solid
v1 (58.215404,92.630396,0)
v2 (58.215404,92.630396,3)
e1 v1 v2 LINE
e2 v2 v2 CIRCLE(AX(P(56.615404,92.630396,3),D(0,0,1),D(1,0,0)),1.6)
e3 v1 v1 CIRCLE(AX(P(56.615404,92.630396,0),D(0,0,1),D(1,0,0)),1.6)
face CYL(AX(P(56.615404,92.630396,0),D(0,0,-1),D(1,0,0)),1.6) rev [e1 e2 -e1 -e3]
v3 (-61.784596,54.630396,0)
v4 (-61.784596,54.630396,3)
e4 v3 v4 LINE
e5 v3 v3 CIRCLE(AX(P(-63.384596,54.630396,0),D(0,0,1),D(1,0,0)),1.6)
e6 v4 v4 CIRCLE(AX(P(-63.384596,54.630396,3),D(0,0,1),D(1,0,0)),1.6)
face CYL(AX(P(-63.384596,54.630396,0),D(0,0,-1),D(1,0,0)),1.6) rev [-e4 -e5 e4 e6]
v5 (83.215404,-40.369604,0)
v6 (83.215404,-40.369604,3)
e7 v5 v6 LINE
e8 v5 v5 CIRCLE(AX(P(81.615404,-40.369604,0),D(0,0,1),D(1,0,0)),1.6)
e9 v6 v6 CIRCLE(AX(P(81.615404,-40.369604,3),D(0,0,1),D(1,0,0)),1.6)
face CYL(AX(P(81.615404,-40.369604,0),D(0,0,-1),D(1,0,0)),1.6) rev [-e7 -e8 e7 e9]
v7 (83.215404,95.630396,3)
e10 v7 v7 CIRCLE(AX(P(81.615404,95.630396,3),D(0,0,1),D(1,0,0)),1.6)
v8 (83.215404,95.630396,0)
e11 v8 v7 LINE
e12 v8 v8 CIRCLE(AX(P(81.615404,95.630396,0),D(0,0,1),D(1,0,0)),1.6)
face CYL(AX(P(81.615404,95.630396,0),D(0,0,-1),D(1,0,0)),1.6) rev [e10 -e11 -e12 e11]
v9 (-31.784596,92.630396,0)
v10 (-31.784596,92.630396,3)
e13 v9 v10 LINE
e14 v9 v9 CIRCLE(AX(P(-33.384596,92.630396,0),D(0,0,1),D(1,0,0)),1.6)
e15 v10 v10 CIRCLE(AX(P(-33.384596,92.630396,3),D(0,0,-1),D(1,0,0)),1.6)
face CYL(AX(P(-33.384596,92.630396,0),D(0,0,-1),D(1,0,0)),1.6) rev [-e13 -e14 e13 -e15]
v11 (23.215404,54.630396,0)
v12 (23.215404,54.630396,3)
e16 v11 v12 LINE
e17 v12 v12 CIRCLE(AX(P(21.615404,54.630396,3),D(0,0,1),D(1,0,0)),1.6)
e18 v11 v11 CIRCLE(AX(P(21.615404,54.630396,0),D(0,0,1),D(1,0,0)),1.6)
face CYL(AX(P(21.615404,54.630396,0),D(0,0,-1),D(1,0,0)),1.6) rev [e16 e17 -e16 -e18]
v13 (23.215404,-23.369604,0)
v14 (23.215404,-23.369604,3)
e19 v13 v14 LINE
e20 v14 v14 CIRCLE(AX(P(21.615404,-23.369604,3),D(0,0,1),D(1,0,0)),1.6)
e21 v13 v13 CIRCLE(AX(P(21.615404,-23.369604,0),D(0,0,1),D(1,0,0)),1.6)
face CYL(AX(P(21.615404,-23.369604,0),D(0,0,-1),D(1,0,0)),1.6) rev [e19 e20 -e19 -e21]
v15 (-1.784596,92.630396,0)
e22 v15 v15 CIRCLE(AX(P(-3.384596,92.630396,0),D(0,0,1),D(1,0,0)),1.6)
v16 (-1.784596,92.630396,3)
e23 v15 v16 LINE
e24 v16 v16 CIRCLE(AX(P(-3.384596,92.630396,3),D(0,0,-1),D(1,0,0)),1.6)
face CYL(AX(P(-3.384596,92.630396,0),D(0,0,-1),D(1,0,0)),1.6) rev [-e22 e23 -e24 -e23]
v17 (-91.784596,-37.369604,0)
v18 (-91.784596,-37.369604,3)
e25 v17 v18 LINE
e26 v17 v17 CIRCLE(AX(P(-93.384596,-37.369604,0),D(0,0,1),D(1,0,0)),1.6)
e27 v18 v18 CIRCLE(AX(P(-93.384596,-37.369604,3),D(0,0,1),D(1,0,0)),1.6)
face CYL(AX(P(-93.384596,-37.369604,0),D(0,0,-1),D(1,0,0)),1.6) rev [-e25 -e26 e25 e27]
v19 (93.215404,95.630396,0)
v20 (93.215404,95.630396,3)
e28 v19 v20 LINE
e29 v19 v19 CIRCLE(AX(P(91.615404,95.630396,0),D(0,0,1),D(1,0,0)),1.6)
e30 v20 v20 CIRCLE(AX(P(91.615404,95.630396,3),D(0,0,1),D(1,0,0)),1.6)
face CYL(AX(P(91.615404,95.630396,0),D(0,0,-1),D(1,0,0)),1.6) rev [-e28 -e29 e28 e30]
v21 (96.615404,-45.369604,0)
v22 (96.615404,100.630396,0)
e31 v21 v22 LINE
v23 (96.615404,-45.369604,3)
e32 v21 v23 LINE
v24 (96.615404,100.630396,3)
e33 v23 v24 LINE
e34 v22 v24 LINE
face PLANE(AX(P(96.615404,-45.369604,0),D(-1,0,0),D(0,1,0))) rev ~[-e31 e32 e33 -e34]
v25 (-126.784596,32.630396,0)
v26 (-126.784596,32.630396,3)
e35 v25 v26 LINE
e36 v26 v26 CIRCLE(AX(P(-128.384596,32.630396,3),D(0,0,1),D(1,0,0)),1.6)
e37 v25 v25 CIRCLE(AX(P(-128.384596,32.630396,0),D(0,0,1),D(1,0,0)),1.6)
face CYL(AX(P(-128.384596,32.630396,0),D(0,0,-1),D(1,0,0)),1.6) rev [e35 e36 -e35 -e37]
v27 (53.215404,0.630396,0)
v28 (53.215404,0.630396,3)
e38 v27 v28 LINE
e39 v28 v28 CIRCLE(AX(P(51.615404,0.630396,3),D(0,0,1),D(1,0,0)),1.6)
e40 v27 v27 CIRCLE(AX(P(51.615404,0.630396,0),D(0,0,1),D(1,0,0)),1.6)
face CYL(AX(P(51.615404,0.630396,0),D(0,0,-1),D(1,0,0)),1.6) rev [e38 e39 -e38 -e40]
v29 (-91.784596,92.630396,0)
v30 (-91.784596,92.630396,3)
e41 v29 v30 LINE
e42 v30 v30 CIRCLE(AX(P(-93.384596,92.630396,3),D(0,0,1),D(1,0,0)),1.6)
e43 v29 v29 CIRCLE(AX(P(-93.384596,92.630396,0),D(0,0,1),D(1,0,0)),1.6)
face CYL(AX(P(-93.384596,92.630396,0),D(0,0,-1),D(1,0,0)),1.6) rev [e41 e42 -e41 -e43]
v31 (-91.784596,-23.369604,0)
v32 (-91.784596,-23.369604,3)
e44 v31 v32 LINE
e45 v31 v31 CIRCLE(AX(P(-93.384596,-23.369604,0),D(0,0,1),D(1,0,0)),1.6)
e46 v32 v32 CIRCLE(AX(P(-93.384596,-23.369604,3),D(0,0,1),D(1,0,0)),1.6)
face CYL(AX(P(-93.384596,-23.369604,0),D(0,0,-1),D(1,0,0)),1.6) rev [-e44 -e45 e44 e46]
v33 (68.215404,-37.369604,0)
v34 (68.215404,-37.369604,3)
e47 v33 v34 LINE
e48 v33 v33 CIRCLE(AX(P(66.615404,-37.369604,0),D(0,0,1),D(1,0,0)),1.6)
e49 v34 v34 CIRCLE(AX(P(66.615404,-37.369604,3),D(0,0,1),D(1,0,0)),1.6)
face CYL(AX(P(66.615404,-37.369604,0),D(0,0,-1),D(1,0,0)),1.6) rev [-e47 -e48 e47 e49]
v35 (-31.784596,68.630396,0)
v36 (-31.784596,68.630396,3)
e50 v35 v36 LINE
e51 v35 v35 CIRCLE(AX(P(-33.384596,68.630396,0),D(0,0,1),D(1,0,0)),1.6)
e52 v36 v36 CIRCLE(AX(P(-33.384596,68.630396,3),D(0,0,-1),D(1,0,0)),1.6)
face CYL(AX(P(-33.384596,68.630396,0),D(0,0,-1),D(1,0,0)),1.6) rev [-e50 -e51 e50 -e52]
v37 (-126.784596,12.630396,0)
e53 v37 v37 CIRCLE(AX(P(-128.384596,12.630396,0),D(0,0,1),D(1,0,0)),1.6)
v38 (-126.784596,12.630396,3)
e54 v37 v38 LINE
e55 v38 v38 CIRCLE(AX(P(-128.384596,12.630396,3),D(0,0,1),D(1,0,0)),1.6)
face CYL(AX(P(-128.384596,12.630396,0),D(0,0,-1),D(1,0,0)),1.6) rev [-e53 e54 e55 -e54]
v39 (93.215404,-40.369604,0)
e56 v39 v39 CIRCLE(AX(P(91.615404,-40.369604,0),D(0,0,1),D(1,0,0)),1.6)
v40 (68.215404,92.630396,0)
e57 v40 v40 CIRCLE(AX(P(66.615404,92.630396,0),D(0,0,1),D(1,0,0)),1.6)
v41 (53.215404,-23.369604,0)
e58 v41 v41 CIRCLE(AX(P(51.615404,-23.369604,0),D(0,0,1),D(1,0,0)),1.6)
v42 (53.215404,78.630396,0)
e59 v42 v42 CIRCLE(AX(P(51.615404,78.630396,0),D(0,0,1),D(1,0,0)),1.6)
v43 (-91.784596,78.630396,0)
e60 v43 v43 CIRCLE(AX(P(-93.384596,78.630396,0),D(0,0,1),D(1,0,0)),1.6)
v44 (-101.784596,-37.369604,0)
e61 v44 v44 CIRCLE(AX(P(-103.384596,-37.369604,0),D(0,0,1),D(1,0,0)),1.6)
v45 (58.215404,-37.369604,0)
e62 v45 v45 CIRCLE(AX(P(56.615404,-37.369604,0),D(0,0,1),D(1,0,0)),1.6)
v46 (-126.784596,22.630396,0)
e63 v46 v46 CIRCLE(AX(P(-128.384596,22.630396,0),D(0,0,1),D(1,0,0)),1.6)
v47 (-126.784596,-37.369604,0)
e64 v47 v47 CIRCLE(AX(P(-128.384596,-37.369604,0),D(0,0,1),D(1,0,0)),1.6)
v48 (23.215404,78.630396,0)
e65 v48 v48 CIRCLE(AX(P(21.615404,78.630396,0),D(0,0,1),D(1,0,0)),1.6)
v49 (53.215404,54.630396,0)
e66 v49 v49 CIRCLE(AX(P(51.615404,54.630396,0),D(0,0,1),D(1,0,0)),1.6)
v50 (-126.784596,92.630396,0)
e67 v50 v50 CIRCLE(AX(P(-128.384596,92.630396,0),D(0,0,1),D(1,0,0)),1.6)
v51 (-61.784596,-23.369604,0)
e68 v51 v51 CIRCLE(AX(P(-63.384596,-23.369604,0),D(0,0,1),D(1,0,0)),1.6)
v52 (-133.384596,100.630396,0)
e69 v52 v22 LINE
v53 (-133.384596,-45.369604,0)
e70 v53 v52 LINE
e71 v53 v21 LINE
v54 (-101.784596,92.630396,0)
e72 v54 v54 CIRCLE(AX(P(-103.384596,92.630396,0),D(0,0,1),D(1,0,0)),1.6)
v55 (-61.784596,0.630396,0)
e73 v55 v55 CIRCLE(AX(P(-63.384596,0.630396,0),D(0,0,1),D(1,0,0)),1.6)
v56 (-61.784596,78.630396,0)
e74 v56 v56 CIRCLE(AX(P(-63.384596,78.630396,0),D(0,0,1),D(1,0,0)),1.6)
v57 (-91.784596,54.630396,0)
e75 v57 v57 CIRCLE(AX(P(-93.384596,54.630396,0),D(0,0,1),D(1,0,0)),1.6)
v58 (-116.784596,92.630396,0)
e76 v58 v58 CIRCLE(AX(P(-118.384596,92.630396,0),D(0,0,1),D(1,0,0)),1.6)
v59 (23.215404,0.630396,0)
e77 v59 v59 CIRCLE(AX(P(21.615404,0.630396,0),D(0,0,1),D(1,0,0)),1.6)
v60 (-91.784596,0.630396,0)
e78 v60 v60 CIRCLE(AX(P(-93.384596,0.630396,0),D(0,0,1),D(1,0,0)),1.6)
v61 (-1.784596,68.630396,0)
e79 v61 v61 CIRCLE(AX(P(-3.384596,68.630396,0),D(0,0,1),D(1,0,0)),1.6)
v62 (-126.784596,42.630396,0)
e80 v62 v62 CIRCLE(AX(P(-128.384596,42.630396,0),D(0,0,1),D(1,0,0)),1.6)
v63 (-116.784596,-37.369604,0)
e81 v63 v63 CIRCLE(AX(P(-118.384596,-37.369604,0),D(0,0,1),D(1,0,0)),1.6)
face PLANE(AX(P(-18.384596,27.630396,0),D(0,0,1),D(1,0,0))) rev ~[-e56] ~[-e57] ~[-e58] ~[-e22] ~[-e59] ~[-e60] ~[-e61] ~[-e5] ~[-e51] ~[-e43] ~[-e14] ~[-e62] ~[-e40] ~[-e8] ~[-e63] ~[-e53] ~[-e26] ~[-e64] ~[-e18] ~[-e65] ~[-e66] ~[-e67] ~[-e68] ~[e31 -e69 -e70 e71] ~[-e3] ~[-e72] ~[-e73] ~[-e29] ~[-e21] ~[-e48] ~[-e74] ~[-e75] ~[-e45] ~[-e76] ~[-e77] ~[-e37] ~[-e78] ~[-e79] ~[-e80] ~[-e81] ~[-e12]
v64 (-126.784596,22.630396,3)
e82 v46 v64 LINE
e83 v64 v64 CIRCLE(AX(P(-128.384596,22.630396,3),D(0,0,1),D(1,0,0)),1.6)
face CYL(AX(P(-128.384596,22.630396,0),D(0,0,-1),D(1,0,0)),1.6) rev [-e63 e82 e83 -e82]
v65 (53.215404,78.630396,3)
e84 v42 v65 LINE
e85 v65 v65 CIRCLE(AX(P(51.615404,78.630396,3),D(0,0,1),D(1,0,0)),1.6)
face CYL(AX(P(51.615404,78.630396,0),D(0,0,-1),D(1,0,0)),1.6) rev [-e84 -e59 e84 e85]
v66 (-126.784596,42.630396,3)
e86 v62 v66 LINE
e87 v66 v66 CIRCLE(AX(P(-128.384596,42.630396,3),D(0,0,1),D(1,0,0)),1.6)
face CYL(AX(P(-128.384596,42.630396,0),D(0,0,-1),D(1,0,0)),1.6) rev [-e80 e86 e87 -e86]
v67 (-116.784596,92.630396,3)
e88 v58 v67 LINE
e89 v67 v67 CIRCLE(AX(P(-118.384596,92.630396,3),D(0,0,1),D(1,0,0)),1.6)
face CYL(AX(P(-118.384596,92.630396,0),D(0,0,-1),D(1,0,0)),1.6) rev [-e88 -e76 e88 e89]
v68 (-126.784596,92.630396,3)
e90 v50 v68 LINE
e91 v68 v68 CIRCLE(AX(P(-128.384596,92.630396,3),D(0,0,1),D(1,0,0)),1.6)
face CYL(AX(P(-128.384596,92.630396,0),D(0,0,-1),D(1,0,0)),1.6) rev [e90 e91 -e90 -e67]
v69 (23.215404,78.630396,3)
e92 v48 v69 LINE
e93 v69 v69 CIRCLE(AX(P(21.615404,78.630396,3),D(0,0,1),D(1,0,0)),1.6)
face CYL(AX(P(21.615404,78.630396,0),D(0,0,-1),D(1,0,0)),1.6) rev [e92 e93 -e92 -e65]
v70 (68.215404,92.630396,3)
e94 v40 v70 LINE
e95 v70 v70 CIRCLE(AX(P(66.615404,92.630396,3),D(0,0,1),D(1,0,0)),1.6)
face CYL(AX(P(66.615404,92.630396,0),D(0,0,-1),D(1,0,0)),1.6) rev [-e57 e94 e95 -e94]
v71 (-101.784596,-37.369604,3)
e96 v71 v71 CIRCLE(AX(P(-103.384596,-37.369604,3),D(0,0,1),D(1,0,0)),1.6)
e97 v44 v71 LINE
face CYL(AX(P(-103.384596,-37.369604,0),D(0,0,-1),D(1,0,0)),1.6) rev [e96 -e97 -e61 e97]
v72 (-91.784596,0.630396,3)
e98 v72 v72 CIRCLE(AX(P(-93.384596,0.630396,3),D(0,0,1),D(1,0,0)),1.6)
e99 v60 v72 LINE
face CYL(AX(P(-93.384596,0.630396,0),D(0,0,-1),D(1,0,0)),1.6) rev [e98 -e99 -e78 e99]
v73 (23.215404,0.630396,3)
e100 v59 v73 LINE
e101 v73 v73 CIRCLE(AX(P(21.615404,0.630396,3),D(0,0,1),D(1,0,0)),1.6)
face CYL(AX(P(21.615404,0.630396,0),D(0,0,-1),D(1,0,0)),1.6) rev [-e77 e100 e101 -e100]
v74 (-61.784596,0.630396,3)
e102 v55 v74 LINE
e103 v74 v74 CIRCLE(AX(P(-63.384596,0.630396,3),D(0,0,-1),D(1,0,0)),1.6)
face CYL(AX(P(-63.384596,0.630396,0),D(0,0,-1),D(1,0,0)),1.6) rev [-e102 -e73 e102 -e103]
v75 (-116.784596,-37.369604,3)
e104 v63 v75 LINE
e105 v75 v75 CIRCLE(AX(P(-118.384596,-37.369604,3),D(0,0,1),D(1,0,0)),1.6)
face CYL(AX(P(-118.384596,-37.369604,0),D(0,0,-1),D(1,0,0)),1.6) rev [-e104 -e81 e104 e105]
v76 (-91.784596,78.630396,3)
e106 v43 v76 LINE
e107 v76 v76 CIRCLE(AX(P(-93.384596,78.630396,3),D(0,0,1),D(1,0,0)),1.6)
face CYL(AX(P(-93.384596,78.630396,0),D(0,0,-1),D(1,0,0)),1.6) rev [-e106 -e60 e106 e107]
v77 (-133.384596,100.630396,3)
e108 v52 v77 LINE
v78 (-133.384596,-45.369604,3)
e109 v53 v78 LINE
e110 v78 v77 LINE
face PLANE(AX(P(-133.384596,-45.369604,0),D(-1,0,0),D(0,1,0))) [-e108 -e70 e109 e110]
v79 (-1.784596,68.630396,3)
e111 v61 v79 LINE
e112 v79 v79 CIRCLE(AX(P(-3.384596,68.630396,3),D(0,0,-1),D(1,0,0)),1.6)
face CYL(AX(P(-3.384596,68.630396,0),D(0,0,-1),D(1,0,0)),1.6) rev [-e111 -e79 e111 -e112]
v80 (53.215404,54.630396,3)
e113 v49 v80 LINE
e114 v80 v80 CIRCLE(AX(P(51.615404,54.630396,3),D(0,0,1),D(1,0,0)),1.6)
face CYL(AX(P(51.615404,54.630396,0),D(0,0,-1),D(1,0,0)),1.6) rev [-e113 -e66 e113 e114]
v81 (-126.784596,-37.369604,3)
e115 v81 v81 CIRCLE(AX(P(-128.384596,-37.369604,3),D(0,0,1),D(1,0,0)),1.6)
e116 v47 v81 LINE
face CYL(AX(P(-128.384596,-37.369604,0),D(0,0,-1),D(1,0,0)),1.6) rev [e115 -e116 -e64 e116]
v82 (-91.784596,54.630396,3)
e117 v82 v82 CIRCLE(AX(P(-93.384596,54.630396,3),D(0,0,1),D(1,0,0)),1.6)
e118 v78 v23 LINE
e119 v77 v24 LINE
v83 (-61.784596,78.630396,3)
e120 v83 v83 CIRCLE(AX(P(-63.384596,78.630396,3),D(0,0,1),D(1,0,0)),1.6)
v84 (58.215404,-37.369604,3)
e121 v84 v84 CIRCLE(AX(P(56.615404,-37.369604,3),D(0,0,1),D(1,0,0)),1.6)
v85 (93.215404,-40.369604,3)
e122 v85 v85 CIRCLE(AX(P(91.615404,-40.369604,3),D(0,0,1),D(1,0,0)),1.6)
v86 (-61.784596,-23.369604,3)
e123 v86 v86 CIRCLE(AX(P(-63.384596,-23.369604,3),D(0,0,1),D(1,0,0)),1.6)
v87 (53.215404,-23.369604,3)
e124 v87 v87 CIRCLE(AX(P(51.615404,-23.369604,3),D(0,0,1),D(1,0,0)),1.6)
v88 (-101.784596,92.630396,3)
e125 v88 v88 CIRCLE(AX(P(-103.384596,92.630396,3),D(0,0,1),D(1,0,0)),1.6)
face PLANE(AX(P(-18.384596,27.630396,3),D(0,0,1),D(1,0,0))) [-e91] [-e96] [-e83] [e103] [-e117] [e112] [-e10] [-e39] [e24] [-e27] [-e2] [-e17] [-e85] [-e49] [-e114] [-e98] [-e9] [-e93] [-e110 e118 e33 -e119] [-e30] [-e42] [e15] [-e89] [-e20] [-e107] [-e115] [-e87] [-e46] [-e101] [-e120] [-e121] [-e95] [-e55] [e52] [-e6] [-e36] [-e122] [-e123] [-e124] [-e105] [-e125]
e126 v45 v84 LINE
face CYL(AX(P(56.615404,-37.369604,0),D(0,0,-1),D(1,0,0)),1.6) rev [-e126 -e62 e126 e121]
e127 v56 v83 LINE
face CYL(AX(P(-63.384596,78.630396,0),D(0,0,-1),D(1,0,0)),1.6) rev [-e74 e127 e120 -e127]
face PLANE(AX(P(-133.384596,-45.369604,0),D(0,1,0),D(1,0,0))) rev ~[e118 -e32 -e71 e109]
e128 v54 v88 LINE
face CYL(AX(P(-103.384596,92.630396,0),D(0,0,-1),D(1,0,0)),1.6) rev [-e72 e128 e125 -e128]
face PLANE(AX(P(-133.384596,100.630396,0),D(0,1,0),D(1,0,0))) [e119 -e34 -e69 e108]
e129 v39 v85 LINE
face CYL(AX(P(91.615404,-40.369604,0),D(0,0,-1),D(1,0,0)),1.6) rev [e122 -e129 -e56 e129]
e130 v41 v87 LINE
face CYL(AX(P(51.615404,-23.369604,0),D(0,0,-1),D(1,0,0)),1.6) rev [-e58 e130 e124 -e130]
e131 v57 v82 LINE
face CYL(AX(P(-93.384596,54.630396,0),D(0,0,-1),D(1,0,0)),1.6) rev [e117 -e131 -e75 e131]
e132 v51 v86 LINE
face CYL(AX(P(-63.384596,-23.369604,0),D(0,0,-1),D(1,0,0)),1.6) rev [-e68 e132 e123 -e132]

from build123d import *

# Parameters (mm, degrees)
SKETCH_1_W          = 230
SKETCH_1_H          = 146
SKETCH_1_R          = 1.6
EXTRUDE_1_DEPTH     = 3
SKETCH_3_R          = 1.6
EXTRUDE_2_DEPTH     = 3
SKETCH_5_R          = 1.6
CUT_EXTRUDE_1_DEPTH = 4
SKETCH_6_W          = 41.213526348
SKETCH_6_H          = 6.1
CUT_EXTRUDE_2_DEPTH = 4


with BuildPart() as part:
    # 草图1 → 凸台-拉伸1 (new body)
    with BuildSketch(Plane.XY):
        with Locations((-18.384596283, 27.630396061)):
            Rectangle(SKETCH_1_W, SKETCH_1_H)
        with Locations((51.615403717, 0.630396061)):
            Circle(SKETCH_1_R, mode=Mode.SUBTRACT)
        with Locations((51.615403717, -23.369603939)):
            Circle(SKETCH_1_R, mode=Mode.SUBTRACT)
        with Locations((21.615403717, -23.369603939)):
            Circle(SKETCH_1_R, mode=Mode.SUBTRACT)
        with Locations((21.615403717, 0.630396061)):
            Circle(SKETCH_1_R, mode=Mode.SUBTRACT)
        with Locations((51.615403717, 54.630396061)):
            Circle(SKETCH_1_R, mode=Mode.SUBTRACT)
        with Locations((51.615403717, 78.630396061)):
            Circle(SKETCH_1_R, mode=Mode.SUBTRACT)
        with Locations((21.615403717, 78.630396061)):
            Circle(SKETCH_1_R, mode=Mode.SUBTRACT)
        with Locations((21.615403717, 54.630396061)):
            Circle(SKETCH_1_R, mode=Mode.SUBTRACT)
        with Locations((-63.384596283, 0.630396061)):
            Circle(SKETCH_1_R, mode=Mode.SUBTRACT)
        with Locations((-63.384596283, -23.369603939)):
            Circle(SKETCH_1_R, mode=Mode.SUBTRACT)
        with Locations((-93.384596283, -23.369603939)):
            Circle(SKETCH_1_R, mode=Mode.SUBTRACT)
        with Locations((-93.384596283, 0.630396061)):
            Circle(SKETCH_1_R, mode=Mode.SUBTRACT)
        with Locations((-63.384596283, 54.630396061)):
            Circle(SKETCH_1_R, mode=Mode.SUBTRACT)
        with Locations((-63.384596283, 78.630396061)):
            Circle(SKETCH_1_R, mode=Mode.SUBTRACT)
        with Locations((-93.384596283, 78.630396061)):
            Circle(SKETCH_1_R, mode=Mode.SUBTRACT)
        with Locations((-93.384596283, 54.630396061)):
            Circle(SKETCH_1_R, mode=Mode.SUBTRACT)
        with Locations((-3.384596283, 92.630396061)):
            Circle(SKETCH_1_R, mode=Mode.SUBTRACT)
        with Locations((-3.384596283, 68.630396061)):
            Circle(SKETCH_1_R, mode=Mode.SUBTRACT)
        with Locations((-33.384596283, 68.630396061)):
            Circle(SKETCH_1_R, mode=Mode.SUBTRACT)
        with Locations((-33.384596283, 92.630396061)):
            Circle(SKETCH_1_R, mode=Mode.SUBTRACT)
        with Locations((-128.384596283, 22.630396061)):
            Circle(SKETCH_1_R, mode=Mode.SUBTRACT)
        with Locations((-128.384596283, 12.630396061)):
            Circle(SKETCH_1_R, mode=Mode.SUBTRACT)
        with Locations((-128.384596283, 42.630396061)):
            Circle(SKETCH_1_R, mode=Mode.SUBTRACT)
        with Locations((-128.384596283, 32.630396061)):
            Circle(SKETCH_1_R, mode=Mode.SUBTRACT)
        with Locations((91.615403717, -40.369603939)):
            Circle(SKETCH_1_R, mode=Mode.SUBTRACT)
        with Locations((81.615403717, -40.369603939)):
            Circle(SKETCH_1_R, mode=Mode.SUBTRACT)
        with Locations((66.615403717, -37.369603939)):
            Circle(SKETCH_1_R, mode=Mode.SUBTRACT)
        with Locations((56.615403717, -37.369603939)):
            Circle(SKETCH_1_R, mode=Mode.SUBTRACT)
        with Locations((91.615403717, 95.630396061)):
            Circle(SKETCH_1_R, mode=Mode.SUBTRACT)
        with Locations((81.615403717, 95.630396061)):
            Circle(SKETCH_1_R, mode=Mode.SUBTRACT)
        with Locations((56.615403717, 92.630396061)):
            Circle(SKETCH_1_R, mode=Mode.SUBTRACT)
        with Locations((66.615403717, 92.630396061)):
            Circle(SKETCH_1_R, mode=Mode.SUBTRACT)
        with Locations((-103.384596283, -37.369603939)):
            Circle(SKETCH_1_R, mode=Mode.SUBTRACT)
        with Locations((-93.384596283, -37.369603939)):
            Circle(SKETCH_1_R, mode=Mode.SUBTRACT)
        with Locations((-93.384596283, 92.630396061)):
            Circle(SKETCH_1_R, mode=Mode.SUBTRACT)
        with Locations((-103.384596283, 92.630396061)):
            Circle(SKETCH_1_R, mode=Mode.SUBTRACT)
        with Locations((-118.384596283, -37.369603939)):
            Circle(SKETCH_1_R, mode=Mode.SUBTRACT)
        with Locations((-128.384596283, -37.369603939)):
            Circle(SKETCH_1_R, mode=Mode.SUBTRACT)
        with Locations((-118.384596283, 92.630396061)):
            Circle(SKETCH_1_R, mode=Mode.SUBTRACT)
        with Locations((-128.384596283, 92.630396061)):
            Circle(SKETCH_1_R, mode=Mode.SUBTRACT)
    extrude(amount=EXTRUDE_1_DEPTH)

    # 草图3 → 凸台-拉伸2 (add)
    with BuildSketch(Plane.XY.offset(3)):
        Polygon((-92.171069935, -45.369603939), (-78.384596283, -45.369603939), (-22.171069935, -45.369603939), (22.828930065, -45.369603939), (36.615403717, -45.369603939), (96.615403717, -45.369603939), (96.615403717, 100.630396061), (22.828930065, 100.630396061), (-22.171069935, 100.630396061), (-92.171069935, 100.630396061), (-133.384596283, 100.630396061), (-133.384596283, -45.369603939), align=None)
        with Locations((-128.384596283, -37.369603939)):
            Circle(SKETCH_3_R, mode=Mode.SUBTRACT)
        with Locations((-118.384596283, -37.369603939)):
            Circle(SKETCH_3_R, mode=Mode.SUBTRACT)
        with Locations((-103.384596283, -37.369603939)):
            Circle(SKETCH_3_R, mode=Mode.SUBTRACT)
        with Locations((-93.384596283, -37.369603939)):
            Circle(SKETCH_3_R, mode=Mode.SUBTRACT)
        with Locations((-93.384596283, -23.369603939)):
            Circle(SKETCH_3_R, mode=Mode.SUBTRACT)
        with Locations((-128.384596283, 12.630396061)):
            Circle(SKETCH_3_R, mode=Mode.SUBTRACT)
        with Locations((-128.384596283, 22.630396061)):
            Circle(SKETCH_3_R, mode=Mode.SUBTRACT)
        with Locations((-93.384596283, 0.630396061)):
            Circle(SKETCH_3_R, mode=Mode.SUBTRACT)
        with Locations((-63.384596283, -23.369603939)):
            Circle(SKETCH_3_R, mode=Mode.SUBTRACT)
        with BuildLine():
            ThreePointArc((-61.784596283, 0.630396061), (-63.384596283, -0.969603939), (-64.984596283, 0.630396061))
            ThreePointArc((-64.984596283, 0.630396061), (-63.384596283, 2.230396061), (-61.784596283, 0.630396061))
        make_face(mode=Mode.SUBTRACT)
        with Locations((56.615403717, -37.369603939)):
            Circle(SKETCH_3_R, mode=Mode.SUBTRACT)
        with Locations((66.615403717, -37.369603939)):
            Circle(SKETCH_3_R, mode=Mode.SUBTRACT)
        with Locations((81.615403717, -40.369603939)):
            Circle(SKETCH_3_R, mode=Mode.SUBTRACT)
        with Locations((91.615403717, -40.369603939)):
            Circle(SKETCH_3_R, mode=Mode.SUBTRACT)
        with Locations((21.615403717, -23.369603939)):
            Circle(SKETCH_3_R, mode=Mode.SUBTRACT)
        with Locations((21.615403717, 0.630396061)):
            Circle(SKETCH_3_R, mode=Mode.SUBTRACT)
        with Locations((51.615403717, -23.369603939)):
            Circle(SKETCH_3_R, mode=Mode.SUBTRACT)
        with Locations((51.615403717, 0.630396061)):
            Circle(SKETCH_3_R, mode=Mode.SUBTRACT)
        with Locations((-128.384596283, 32.630396061)):
            Circle(SKETCH_3_R, mode=Mode.SUBTRACT)
        with Locations((-128.384596283, 42.630396061)):
            Circle(SKETCH_3_R, mode=Mode.SUBTRACT)
        with Locations((-93.384596283, 54.630396061)):
            Circle(SKETCH_3_R, mode=Mode.SUBTRACT)
        with Locations((-93.384596283, 78.630396061)):
            Circle(SKETCH_3_R, mode=Mode.SUBTRACT)
        with Locations((-63.384596283, 54.630396061)):
            Circle(SKETCH_3_R, mode=Mode.SUBTRACT)
        with Locations((-63.384596283, 78.630396061)):
            Circle(SKETCH_3_R, mode=Mode.SUBTRACT)
        with BuildLine():
            ThreePointArc((-32.135596683, 67.630396061), (-31.874894432, 67.160302015), (-31.784596283, 66.630396061))
            ThreePointArc((-31.784596283, 66.630396061), (-33.914502237, 65.12069421), (-34.633595883, 67.630396061))
            ThreePointArc((-34.633595883, 67.630396061), (-33.914502237, 70.140097913), (-31.784596283, 68.630396061))
            ThreePointArc((-31.784596283, 68.630396061), (-31.874894432, 68.100490107), (-32.135596683, 67.630396061))
        make_face(mode=Mode.SUBTRACT)
        with Locations((-128.384596283, 92.630396061)):
            Circle(SKETCH_3_R, mode=Mode.SUBTRACT)
        with Locations((-118.384596283, 92.630396061)):
            Circle(SKETCH_3_R, mode=Mode.SUBTRACT)
        with Locations((-103.384596283, 92.630396061)):
            Circle(SKETCH_3_R, mode=Mode.SUBTRACT)
        with Locations((-93.384596283, 92.630396061)):
            Circle(SKETCH_3_R, mode=Mode.SUBTRACT)
        with BuildLine():
            ThreePointArc((-32.135596683, 91.630396061), (-31.874894432, 91.160302015), (-31.784596283, 90.630396061))
            ThreePointArc((-31.784596283, 90.630396061), (-33.914502237, 89.12069421), (-34.633595883, 91.630396061))
            ThreePointArc((-34.633595883, 91.630396061), (-33.914502237, 94.140097913), (-31.784596283, 92.630396061))
            ThreePointArc((-31.784596283, 92.630396061), (-31.874894432, 92.100490107), (-32.135596683, 91.630396061))
        make_face(mode=Mode.SUBTRACT)
        with Locations((21.615403717, 54.630396061)):
            Circle(SKETCH_3_R, mode=Mode.SUBTRACT)
        with BuildLine():
            ThreePointArc((-2.135596683, 67.630396061), (-1.874894432, 67.160302015), (-1.784596283, 66.630396061))
            ThreePointArc((-1.784596283, 66.630396061), (-3.914502237, 65.12069421), (-4.633595883, 67.630396061))
            ThreePointArc((-4.633595883, 67.630396061), (-3.914502237, 70.140097913), (-1.784596283, 68.630396061))
            ThreePointArc((-1.784596283, 68.630396061), (-1.874894432, 68.100490107), (-2.135596683, 67.630396061))
        make_face(mode=Mode.SUBTRACT)
        with Locations((21.615403717, 78.630396061)):
            Circle(SKETCH_3_R, mode=Mode.SUBTRACT)
        with Locations((51.615403717, 54.630396061)):
            Circle(SKETCH_3_R, mode=Mode.SUBTRACT)
        with Locations((51.615403717, 78.630396061)):
            Circle(SKETCH_3_R, mode=Mode.SUBTRACT)
        with BuildLine():
            ThreePointArc((-2.135596683, 91.630396061), (-1.874894432, 91.160302015), (-1.784596283, 90.630396061))
            ThreePointArc((-1.784596283, 90.630396061), (-3.914502237, 89.12069421), (-4.633595883, 91.630396061))
            ThreePointArc((-4.633595883, 91.630396061), (-3.914502237, 94.140097913), (-1.784596283, 92.630396061))
            ThreePointArc((-1.784596283, 92.630396061), (-1.874894432, 92.100490107), (-2.135596683, 91.630396061))
        make_face(mode=Mode.SUBTRACT)
        with Locations((56.615403717, 92.630396061)):
            Circle(SKETCH_3_R, mode=Mode.SUBTRACT)
        with Locations((66.615403717, 92.630396061)):
            Circle(SKETCH_3_R, mode=Mode.SUBTRACT)
        with Locations((81.615403717, 95.630396061)):
            Circle(SKETCH_3_R, mode=Mode.SUBTRACT)
        with Locations((91.615403717, 95.630396061)):
            Circle(SKETCH_3_R, mode=Mode.SUBTRACT)
    extrude(amount=-EXTRUDE_2_DEPTH)

    # 草图5 → 切除-拉伸1 (cut, through all)
    with BuildSketch(Plane.XY.offset(3)):
        with Locations((-118.384596283, -67.369603939)):
            Circle(SKETCH_5_R)
        with Locations((-128.384596283, -67.369603939)):
            Circle(SKETCH_5_R)
        with Locations((-128.384596283, 122.630396061)):
            Circle(SKETCH_5_R)
        with Locations((-118.384596283, 122.630396061)):
            Circle(SKETCH_5_R)
    extrude(amount=-CUT_EXTRUDE_1_DEPTH, mode=Mode.SUBTRACT)

    # 草图6 → 切除-拉伸2 (cut, through all)
    with BuildSketch(Plane.XY.offset(3)):
        with Locations((-112.777833109, -78.319603939)):
            Rectangle(SKETCH_6_W, SKETCH_6_H)
        with Locations((-112.777833109, 133.580396061)):
            Rectangle(SKETCH_6_W, SKETCH_6_H)
    extrude(amount=-CUT_EXTRUDE_2_DEPTH, mode=Mode.SUBTRACT)


solid = part.part
